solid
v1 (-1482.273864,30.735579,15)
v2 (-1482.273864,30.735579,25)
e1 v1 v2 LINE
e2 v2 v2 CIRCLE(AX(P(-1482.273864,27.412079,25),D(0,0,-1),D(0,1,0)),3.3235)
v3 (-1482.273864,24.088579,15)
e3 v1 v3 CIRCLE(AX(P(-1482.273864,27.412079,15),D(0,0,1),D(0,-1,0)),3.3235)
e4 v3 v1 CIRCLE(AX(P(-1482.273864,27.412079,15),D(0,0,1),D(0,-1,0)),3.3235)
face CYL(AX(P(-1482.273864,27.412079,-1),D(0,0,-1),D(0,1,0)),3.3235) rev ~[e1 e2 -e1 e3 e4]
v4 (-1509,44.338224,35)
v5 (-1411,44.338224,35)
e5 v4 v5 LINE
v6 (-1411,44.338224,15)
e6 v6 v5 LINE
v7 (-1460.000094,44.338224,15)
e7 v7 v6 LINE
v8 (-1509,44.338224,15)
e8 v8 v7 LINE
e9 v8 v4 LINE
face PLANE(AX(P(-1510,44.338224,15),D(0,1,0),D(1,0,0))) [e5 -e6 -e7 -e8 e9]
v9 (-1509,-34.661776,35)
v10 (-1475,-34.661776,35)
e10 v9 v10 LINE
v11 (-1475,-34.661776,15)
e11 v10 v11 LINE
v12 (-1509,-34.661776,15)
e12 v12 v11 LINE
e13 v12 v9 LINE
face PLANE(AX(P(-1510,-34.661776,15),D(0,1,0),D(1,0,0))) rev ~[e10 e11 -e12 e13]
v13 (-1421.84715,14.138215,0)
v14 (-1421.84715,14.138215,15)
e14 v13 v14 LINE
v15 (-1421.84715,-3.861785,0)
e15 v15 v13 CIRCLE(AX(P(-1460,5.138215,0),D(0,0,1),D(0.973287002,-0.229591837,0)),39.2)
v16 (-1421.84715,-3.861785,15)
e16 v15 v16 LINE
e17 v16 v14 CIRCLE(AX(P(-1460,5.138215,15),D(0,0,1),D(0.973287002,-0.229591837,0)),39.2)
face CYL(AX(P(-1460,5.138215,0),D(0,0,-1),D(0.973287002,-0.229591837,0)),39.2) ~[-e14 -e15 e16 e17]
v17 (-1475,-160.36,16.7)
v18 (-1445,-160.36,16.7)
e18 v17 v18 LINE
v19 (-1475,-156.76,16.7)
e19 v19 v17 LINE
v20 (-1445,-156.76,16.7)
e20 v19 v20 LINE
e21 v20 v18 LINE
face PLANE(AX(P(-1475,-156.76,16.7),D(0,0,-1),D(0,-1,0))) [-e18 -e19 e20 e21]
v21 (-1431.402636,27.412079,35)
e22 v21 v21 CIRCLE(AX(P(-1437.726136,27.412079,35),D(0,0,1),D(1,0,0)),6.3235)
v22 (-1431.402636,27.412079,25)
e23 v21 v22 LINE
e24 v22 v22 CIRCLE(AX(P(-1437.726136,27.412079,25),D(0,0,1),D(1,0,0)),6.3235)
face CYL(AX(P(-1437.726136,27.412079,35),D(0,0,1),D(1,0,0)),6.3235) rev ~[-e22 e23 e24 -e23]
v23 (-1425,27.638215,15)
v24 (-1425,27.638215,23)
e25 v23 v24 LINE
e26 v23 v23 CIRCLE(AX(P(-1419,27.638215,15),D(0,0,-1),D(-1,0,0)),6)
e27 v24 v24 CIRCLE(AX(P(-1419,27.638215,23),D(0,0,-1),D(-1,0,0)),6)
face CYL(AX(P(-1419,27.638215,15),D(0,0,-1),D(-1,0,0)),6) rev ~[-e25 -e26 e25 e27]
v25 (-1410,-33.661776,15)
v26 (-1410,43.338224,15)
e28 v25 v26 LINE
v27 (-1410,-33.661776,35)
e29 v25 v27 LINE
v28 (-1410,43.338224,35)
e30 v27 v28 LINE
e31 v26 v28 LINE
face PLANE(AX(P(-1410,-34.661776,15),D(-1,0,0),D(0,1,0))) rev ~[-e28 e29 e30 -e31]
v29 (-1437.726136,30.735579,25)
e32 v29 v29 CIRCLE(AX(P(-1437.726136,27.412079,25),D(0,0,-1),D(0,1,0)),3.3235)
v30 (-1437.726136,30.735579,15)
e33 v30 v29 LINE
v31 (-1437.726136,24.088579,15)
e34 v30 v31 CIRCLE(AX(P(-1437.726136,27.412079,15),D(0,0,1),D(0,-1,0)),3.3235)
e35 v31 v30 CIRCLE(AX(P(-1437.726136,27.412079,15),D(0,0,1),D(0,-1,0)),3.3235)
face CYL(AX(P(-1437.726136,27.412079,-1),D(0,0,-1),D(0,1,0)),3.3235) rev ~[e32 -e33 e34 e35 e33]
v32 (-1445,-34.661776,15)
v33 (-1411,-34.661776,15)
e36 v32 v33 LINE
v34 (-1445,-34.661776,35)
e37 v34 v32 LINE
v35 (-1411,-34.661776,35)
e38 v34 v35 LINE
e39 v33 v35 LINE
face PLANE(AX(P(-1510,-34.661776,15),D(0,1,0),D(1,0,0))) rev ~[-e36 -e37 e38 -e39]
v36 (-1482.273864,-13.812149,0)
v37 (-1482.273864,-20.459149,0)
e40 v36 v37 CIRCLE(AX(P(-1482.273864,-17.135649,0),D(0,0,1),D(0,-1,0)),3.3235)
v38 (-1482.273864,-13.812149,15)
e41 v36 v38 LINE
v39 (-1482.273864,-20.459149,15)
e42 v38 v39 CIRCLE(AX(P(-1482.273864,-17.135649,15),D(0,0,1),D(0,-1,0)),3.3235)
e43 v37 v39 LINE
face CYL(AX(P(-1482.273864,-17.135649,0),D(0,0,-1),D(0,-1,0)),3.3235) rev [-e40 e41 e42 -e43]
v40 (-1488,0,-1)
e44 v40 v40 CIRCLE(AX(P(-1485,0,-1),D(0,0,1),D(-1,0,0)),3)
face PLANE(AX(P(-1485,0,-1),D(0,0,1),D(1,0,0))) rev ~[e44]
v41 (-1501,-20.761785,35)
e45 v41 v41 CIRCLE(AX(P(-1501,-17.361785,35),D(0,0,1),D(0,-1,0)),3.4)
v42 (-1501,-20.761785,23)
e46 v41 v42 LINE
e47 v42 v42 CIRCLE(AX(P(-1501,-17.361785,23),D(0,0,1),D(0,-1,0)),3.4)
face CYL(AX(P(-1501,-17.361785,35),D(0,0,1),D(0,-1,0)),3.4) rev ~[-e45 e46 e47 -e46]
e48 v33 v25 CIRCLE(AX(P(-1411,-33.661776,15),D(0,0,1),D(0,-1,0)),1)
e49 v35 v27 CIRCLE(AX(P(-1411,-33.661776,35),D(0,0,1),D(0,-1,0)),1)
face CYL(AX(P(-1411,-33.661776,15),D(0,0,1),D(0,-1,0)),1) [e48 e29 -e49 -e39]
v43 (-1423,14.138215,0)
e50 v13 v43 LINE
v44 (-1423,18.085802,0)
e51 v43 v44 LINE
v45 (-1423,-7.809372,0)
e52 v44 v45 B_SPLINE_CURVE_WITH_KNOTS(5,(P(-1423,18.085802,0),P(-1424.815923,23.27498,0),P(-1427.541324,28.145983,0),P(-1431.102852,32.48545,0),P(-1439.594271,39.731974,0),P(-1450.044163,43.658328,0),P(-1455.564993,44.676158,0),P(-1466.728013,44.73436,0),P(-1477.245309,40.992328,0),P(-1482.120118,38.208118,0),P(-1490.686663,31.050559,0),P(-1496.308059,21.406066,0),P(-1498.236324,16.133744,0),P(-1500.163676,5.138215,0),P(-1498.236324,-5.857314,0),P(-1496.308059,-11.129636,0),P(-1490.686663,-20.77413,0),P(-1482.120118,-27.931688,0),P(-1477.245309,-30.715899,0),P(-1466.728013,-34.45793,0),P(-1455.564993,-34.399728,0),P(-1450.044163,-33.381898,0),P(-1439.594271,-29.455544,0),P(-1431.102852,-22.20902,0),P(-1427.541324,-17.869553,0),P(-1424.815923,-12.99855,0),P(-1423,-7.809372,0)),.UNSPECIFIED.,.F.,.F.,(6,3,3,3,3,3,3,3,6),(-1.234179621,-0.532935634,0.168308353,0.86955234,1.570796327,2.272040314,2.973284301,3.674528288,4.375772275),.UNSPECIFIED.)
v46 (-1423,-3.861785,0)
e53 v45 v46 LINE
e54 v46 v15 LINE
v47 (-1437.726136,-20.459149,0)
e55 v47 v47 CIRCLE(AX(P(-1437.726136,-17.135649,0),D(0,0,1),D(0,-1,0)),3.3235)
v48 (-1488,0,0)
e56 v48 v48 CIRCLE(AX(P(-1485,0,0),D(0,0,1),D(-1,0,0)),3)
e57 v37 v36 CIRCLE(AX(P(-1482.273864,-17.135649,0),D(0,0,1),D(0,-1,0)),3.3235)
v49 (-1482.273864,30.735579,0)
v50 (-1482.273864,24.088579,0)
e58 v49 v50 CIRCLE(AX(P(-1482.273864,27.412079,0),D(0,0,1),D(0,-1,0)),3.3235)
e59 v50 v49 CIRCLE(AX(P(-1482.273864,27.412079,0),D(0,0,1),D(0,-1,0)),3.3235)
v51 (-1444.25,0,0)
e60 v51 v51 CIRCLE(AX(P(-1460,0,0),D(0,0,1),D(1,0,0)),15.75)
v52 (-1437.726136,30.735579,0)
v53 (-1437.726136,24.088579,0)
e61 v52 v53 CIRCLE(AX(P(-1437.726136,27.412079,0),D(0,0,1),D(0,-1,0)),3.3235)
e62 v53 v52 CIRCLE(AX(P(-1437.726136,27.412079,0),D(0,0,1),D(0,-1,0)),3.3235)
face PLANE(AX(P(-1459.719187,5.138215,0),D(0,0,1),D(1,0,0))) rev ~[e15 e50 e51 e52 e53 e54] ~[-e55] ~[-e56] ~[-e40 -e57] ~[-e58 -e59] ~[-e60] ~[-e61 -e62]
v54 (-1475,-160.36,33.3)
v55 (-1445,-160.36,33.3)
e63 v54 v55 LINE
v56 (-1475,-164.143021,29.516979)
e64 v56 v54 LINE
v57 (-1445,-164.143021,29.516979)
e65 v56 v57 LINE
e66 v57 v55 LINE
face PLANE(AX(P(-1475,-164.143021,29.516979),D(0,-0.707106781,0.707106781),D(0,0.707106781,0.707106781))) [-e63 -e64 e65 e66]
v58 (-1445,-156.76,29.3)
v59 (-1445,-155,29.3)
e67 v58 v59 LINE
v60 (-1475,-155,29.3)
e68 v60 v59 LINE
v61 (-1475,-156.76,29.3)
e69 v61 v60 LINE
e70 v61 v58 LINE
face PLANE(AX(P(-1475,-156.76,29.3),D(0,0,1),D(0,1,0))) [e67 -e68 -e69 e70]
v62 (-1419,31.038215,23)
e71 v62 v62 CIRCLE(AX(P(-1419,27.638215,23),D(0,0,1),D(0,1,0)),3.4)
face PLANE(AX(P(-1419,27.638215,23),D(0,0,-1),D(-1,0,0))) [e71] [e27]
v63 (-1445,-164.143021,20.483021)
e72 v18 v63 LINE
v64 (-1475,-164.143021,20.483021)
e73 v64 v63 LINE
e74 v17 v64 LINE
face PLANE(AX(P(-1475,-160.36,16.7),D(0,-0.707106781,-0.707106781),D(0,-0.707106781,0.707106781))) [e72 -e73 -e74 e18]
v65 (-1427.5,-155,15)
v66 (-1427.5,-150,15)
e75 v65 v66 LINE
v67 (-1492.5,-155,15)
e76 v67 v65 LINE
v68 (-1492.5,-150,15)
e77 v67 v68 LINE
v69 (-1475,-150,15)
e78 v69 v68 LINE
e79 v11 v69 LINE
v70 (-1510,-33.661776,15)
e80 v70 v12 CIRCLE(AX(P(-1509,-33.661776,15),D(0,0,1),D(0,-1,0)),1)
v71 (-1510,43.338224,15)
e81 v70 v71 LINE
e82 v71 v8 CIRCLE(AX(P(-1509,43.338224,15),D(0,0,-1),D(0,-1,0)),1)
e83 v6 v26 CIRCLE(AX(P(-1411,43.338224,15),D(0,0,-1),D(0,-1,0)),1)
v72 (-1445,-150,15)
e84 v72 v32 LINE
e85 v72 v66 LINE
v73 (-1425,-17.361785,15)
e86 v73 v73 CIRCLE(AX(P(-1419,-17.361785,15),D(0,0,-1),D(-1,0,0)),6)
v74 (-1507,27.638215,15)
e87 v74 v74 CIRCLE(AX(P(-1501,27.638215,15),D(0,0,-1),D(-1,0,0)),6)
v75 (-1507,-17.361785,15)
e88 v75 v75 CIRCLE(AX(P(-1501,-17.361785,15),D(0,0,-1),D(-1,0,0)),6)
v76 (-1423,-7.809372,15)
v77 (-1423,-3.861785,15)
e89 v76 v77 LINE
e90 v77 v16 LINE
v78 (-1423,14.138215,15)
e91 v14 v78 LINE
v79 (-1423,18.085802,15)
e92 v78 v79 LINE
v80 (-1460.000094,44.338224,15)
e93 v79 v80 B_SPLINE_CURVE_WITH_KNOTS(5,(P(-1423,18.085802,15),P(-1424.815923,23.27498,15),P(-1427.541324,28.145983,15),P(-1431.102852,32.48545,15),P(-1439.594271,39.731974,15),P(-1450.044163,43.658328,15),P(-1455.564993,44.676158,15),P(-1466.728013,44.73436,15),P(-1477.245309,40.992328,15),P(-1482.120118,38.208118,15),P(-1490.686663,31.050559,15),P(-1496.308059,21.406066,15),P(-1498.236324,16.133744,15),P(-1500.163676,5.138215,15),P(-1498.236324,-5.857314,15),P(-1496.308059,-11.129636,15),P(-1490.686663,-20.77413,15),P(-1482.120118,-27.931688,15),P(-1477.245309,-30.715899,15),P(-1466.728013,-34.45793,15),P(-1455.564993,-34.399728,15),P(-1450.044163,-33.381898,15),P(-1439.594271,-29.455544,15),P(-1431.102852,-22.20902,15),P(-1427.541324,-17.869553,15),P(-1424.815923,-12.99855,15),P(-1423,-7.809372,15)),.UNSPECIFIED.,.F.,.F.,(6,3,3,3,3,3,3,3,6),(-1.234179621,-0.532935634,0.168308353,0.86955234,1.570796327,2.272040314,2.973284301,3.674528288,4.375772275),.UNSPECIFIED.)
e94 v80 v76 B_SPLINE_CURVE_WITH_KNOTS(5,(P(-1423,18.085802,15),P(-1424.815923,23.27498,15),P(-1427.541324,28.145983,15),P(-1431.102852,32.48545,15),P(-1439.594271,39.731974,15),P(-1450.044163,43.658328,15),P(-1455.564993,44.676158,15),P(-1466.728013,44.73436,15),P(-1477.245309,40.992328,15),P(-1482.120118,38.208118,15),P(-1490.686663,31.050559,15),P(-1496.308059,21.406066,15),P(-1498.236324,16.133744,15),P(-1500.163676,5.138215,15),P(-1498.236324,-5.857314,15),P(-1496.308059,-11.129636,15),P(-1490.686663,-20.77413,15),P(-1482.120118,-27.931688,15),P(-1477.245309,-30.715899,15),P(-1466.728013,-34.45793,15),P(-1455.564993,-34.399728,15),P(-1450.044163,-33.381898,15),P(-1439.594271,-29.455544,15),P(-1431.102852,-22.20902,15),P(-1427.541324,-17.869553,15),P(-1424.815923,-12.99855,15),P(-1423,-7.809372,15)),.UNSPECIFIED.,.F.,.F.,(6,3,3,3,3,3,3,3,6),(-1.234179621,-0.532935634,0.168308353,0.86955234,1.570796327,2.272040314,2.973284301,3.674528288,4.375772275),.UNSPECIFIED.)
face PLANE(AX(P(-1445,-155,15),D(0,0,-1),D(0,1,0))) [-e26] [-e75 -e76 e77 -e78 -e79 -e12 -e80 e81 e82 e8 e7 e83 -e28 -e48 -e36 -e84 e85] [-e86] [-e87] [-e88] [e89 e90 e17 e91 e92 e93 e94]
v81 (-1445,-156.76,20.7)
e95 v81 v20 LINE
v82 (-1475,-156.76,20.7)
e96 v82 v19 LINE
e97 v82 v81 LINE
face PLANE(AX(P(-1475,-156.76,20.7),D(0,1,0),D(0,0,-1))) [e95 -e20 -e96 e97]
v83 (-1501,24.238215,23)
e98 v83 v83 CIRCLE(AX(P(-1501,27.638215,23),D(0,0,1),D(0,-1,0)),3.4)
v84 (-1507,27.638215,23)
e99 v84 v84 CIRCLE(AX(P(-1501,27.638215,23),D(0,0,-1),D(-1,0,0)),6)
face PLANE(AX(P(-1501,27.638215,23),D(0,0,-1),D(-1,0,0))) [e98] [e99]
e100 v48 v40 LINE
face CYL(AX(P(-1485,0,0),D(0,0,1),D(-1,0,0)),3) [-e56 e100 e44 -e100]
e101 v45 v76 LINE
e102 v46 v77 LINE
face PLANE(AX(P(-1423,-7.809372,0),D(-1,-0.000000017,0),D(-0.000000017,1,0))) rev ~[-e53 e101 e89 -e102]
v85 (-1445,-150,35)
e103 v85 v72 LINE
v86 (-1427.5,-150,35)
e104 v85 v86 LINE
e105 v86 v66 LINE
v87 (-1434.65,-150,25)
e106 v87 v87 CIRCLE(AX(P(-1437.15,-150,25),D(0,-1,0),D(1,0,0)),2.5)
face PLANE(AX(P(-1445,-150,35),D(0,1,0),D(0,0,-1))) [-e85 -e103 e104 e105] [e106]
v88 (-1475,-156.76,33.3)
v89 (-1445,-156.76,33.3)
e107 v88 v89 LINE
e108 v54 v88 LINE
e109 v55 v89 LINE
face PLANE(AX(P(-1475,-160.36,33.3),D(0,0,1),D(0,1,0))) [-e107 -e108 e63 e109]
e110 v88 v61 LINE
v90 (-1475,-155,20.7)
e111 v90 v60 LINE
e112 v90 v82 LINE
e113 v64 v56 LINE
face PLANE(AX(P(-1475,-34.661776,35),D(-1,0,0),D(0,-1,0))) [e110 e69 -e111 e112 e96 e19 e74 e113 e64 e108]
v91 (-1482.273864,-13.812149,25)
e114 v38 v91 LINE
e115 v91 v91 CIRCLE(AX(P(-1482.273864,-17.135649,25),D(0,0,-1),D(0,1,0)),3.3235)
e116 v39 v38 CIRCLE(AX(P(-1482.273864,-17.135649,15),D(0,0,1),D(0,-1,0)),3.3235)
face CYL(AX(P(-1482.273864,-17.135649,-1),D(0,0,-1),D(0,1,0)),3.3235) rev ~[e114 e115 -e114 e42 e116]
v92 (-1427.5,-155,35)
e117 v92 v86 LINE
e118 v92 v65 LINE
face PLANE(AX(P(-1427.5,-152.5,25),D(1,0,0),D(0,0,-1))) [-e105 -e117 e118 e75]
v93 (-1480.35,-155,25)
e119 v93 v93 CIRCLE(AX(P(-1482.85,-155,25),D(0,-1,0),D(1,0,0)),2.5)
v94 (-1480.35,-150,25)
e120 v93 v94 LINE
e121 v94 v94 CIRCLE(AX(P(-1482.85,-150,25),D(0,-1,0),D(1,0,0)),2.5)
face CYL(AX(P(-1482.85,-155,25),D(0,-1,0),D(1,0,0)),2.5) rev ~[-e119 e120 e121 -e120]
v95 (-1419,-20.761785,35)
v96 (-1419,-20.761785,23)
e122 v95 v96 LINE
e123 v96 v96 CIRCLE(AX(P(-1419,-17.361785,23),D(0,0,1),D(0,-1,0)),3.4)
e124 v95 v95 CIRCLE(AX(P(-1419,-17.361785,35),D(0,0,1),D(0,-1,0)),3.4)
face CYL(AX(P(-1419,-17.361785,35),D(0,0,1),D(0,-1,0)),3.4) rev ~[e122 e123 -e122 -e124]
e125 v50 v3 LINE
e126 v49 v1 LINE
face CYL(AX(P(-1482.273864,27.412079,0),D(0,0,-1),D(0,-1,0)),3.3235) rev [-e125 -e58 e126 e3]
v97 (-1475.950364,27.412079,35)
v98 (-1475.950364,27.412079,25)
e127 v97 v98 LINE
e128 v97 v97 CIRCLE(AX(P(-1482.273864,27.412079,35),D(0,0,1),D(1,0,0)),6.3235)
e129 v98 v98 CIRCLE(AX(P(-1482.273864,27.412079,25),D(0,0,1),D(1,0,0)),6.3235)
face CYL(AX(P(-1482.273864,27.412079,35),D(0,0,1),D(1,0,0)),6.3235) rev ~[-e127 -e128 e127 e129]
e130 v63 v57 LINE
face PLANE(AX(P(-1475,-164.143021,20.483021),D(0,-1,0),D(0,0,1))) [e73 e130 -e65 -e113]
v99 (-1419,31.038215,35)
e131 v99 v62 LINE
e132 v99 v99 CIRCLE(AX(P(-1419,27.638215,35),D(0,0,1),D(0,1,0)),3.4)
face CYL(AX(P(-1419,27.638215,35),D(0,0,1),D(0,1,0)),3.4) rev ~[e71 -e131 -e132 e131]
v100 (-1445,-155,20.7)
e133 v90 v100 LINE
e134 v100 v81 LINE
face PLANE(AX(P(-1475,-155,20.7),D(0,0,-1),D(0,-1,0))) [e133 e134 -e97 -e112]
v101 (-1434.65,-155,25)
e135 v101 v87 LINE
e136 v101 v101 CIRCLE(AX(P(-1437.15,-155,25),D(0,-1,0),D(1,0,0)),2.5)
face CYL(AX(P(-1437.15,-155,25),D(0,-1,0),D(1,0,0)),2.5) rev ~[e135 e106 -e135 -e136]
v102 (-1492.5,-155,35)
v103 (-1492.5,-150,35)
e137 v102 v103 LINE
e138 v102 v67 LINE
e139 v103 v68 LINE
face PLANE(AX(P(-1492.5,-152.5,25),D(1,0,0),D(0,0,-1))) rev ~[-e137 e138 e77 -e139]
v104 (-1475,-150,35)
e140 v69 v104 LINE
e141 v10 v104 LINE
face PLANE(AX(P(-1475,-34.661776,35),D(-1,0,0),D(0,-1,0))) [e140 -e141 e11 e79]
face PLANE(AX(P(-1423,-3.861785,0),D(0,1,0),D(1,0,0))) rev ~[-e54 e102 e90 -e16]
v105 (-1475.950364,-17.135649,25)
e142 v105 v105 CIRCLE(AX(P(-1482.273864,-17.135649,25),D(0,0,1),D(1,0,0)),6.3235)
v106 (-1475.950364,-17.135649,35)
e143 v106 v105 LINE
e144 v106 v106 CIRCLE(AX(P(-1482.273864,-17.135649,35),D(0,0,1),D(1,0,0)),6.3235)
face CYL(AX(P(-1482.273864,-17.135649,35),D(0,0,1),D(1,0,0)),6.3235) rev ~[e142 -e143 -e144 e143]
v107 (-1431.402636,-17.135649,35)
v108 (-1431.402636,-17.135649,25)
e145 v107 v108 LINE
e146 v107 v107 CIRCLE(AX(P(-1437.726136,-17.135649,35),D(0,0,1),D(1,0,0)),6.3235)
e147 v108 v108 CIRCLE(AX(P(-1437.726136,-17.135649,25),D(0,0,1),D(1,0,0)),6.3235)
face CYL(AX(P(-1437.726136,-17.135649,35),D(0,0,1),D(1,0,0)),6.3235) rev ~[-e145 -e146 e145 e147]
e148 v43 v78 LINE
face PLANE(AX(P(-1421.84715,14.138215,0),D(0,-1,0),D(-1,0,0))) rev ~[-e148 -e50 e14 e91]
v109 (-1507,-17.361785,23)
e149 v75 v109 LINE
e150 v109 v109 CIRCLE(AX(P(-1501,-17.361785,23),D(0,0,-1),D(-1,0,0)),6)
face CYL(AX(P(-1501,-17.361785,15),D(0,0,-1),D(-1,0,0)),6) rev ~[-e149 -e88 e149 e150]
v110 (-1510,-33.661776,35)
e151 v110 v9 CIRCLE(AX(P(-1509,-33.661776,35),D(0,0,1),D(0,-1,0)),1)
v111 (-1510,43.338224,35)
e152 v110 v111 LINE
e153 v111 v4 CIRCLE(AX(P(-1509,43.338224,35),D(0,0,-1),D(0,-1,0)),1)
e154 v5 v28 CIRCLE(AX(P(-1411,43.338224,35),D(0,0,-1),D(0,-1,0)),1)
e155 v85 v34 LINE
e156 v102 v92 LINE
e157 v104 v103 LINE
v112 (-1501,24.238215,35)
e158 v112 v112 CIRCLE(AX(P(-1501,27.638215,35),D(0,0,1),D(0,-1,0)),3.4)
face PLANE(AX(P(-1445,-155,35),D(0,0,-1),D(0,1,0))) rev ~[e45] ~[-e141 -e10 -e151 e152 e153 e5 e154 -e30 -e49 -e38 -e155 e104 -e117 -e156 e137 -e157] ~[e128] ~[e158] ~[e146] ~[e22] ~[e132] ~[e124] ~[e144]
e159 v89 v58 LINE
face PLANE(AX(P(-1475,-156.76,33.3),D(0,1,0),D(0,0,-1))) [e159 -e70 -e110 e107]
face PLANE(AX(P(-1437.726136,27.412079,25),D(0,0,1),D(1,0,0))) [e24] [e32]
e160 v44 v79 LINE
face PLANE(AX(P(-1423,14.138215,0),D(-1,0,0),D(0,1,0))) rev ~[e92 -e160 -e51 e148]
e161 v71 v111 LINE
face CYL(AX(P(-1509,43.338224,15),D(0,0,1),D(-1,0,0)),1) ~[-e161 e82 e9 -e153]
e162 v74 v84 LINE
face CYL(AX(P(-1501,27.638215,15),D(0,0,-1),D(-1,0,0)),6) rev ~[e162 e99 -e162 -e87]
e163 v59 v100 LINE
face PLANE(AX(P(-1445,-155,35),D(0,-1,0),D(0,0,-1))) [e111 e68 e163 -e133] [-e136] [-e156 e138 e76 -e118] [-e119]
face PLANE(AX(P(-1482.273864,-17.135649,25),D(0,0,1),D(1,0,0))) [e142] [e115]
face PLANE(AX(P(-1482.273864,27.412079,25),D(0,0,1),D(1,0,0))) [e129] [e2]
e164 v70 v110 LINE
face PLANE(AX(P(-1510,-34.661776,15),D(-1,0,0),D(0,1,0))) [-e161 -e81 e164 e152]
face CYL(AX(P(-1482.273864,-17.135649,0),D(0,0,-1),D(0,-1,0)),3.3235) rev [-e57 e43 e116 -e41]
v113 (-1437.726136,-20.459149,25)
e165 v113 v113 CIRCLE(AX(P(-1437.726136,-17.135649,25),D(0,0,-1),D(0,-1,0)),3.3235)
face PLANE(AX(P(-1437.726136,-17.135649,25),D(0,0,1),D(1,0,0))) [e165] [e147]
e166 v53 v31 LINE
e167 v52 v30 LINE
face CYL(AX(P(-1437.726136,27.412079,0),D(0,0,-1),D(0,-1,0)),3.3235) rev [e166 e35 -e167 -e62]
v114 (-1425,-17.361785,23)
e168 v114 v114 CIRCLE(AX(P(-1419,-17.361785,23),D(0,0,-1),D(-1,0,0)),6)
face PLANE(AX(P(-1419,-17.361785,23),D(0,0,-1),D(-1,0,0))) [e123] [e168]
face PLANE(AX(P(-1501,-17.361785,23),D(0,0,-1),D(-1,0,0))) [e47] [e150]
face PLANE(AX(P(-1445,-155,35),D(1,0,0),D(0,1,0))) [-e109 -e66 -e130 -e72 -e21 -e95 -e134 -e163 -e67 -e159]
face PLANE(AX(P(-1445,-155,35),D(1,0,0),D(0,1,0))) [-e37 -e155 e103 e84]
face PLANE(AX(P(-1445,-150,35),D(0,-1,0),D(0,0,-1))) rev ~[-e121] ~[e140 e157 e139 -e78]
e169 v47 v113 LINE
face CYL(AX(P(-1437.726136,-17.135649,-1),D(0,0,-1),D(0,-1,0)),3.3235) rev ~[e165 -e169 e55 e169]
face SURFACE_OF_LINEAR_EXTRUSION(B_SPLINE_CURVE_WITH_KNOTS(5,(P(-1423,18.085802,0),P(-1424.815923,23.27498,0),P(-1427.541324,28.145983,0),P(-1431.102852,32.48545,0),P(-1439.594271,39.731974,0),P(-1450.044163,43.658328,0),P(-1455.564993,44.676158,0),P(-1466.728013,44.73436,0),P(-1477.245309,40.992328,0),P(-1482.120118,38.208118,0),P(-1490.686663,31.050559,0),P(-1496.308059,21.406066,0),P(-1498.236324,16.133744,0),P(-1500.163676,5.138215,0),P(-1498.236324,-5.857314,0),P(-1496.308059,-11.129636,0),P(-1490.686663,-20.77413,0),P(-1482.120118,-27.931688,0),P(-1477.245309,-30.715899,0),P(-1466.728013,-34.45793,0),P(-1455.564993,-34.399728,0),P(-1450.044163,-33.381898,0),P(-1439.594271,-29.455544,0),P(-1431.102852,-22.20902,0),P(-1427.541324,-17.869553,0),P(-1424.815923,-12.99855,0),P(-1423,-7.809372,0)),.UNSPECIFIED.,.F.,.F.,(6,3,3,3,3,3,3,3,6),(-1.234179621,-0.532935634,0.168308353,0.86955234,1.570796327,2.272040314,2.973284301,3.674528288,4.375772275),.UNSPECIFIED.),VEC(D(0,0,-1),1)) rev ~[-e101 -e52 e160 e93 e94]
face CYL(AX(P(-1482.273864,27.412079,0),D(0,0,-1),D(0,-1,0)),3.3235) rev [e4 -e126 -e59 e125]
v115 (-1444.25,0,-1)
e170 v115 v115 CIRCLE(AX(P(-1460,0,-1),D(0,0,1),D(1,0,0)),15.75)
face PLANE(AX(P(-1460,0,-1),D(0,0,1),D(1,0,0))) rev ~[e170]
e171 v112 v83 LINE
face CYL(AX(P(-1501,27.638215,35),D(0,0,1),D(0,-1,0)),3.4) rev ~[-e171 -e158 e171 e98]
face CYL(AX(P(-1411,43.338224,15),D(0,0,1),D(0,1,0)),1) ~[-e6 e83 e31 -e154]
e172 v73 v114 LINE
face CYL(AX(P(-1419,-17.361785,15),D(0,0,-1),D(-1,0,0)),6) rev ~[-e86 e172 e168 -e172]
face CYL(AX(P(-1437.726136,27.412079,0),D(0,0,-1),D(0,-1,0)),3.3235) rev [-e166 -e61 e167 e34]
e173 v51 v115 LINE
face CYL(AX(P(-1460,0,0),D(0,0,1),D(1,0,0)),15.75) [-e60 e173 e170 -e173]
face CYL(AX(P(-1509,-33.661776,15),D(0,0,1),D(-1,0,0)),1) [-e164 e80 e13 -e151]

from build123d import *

# Parameters (mm, degrees)
ESTRUSIONE_ESTRUSIONE2_DEPTH      = 1
ESTRUSIONE_ESTRUSIONE2_2_DEPTH    = 1
ESTRUSIONE_ESTRUSIONE3_DEPTH      = 15
SCHIZZO4_W                        = 100
SCHIZZO4_H                        = 79
ESTRUSIONE_ESTRUSIONE4_DEPTH      = 20
TAGLIO_ESTRUSIONE2_DEPTH          = 36
RACCORDO1_R                       = 1
ESTRUSIONE_ESTRUSIONE5_DEPTH      = 20
ESTRUSIONE_ESTRUSIONE6_DEPTH      = 30
SCHIZZO11_W                       = 20
SCHIZZO11_H                       = 5
ESTRUSIONE_ESTRUSIONE7_DEPTH      = 17.5
ESTRUSIONE_ESTRUSIONE7_DEPTH_BACK = 47.5
TAGLIO_ESTRUSIONE5_REACH          = 201.338
SCHIZZO13_R                       = 2.5
SCHIZZO14_R                       = 6.3235
SCHIZZO14_R_2                     = 3.3235
TAGLIO_ESTRUSIONE6_DEPTH          = 10
TAGLIO_ESTRUSIONE7_DEPTH          = 20
SCHIZZO7_R                        = 6
TAGLIO_ESTRUSIONE4_DEPTH          = 8


with BuildPart() as part:
    # Schizzo1 → Estrusione-Estrusione2 (new body)
    with BuildSketch(Plane.XY):
        with BuildLine():
            ThreePointArc((-1482, 0), (-1485, 3), (-1488, 0))
            ThreePointArc((-1488, 0), (-1485, -3), (-1482, 0))
        make_face()
    extrude(amount=-ESTRUSIONE_ESTRUSIONE2_DEPTH)



with BuildPart() as body_2:
    # Schizzo1 → Estrusione-Estrusione2 2 (new body)
    with BuildSketch(Plane.XY):
        with BuildLine():
            ThreePointArc((-1475.75, 0), (-1460, -15.75), (-1444.25, 0))
            ThreePointArc((-1444.25, 0), (-1460, 15.75), (-1475.75, 0))
        make_face()
    extrude(amount=-ESTRUSIONE_ESTRUSIONE2_2_DEPTH)


with BuildPart() as part_1:
    add(part.part)

    add(body_2.part)  # Estrusione-Estrusione3 merges body 2
    # Schizzo2 → Estrusione-Estrusione3 (add)
    with BuildSketch(Plane.XY):
        with BuildLine():
            Line((-1423, 14.138214937), (-1423, 18.085801585))
            add(Edge.make_bspline(
                [(-1423, 18.085801585), (-1424.815922694, 23.27497966), (-1427.541323769, 28.145982802), (-1431.102851615, 32.485450033), (-1439.594271418, 39.731973592), (-1450.044163239, 43.658327797), (-1455.564993498, 44.676158034), (-1466.7280127, 44.734359641), (-1477.245308948, 40.992328412), (-1482.120117986, 38.208118184), (-1490.68666297, 31.050559385), (-1496.308059, 21.406065909), (-1498.236323874, 16.133743979), (-1500.163676126, 5.138214937), (-1498.236323874, -5.857314104), (-1496.308059, -11.129636034), (-1490.68666297, -20.774129511), (-1482.120117986, -27.931688309), (-1477.245308948, -30.715898537), (-1466.7280127, -34.457929766), (-1455.564993498, -34.399728159), (-1450.044163239, -33.381897922), (-1439.594271418, -29.455543717), (-1431.102851615, -22.209020158), (-1427.541323769, -17.869552928), (-1424.815922694, -12.998549785), (-1422.999999932, -7.809371515)],
                knots=[-1.234179621, -1.234179621, -1.234179621, -1.234179621, -1.234179621, -1.234179621, -0.532935634, -0.532935634, -0.532935634, 0.168308353, 0.168308353, 0.168308353, 0.86955234, 0.86955234, 0.86955234, 1.570796327, 1.570796327, 1.570796327, 2.272040314, 2.272040314, 2.272040314, 2.973284301, 2.973284301, 2.973284301, 3.674528288, 3.674528288, 3.674528288, 4.375772275, 4.375772275, 4.375772275, 4.375772275, 4.375772275, 4.375772275], degree=5))
            Line((-1422.999999932, -7.809371515), (-1423, -3.861785063))
            Line((-1423, -3.861785063), (-1421.847149517, -3.861785063))
            ThreePointArc((-1421.847149517, -3.861785063), (-1420.8, 5.138214937), (-1421.847149517, 14.138214937))
            Line((-1421.847149517, 14.138214937), (-1423, 14.138214937))
        make_face()
        with BuildLine():
            ThreePointArc((-1437.726136393, 30.735578545), (-1441.049636393, 27.412078545), (-1437.726136393, 24.088578545))
            ThreePointArc((-1437.726136393, 24.088578545), (-1434.402636393, 27.412078545), (-1437.726136393, 30.735578545))
        make_face(mode=Mode.SUBTRACT)
        with BuildLine():
            ThreePointArc((-1437.726136393, -13.81214867), (-1441.049636393, -17.13564867), (-1437.726136393, -20.45914867))
            ThreePointArc((-1437.726136393, -20.45914867), (-1434.402636393, -17.13564867), (-1437.726136393, -13.81214867))
        make_face(mode=Mode.SUBTRACT)
        with BuildLine():
            ThreePointArc((-1482.273863607, -13.81214867), (-1485.597363607, -17.13564867), (-1482.273863607, -20.45914867))
            ThreePointArc((-1482.273863607, -20.45914867), (-1478.950363607, -17.13564867), (-1482.273863607, -13.81214867))
        make_face(mode=Mode.SUBTRACT)
        with BuildLine():
            ThreePointArc((-1482.273863607, 30.735578545), (-1485.597363607, 27.412078545), (-1482.273863607, 24.088578545))
            ThreePointArc((-1482.273863607, 24.088578545), (-1478.950363607, 27.412078545), (-1482.273863607, 30.735578545))
        make_face(mode=Mode.SUBTRACT)
    extrude(amount=ESTRUSIONE_ESTRUSIONE3_DEPTH)

    # Schizzo4 → Estrusione-Estrusione4 (add)
    with BuildSketch(Plane.XY.offset(15)):
        with Locations((-1460, 4.838223987)):
            Rectangle(SCHIZZO4_W, SCHIZZO4_H)
    extrude(amount=ESTRUSIONE_ESTRUSIONE4_DEPTH)

    # Schizzo5 → Taglio-Estrusione2 (cut)
    with BuildSketch(Plane(origin=(0, 0, -1), x_dir=(-1, 0, 0), z_dir=(0, 0, -1))):
        with BuildLine():
            ThreePointArc((1437.726136393, -13.81214867), (1434.402636393, -17.13564867), (1437.726136393, -20.45914867))
            ThreePointArc((1437.726136393, -20.45914867), (1441.049636393, -17.13564867), (1437.726136393, -13.81214867))
        make_face()
        with BuildLine():
            ThreePointArc((1437.726136393, 24.088578545), (1441.049636393, 27.412078545), (1437.726136393, 30.735578545))
            ThreePointArc((1437.726136393, 30.735578545), (1434.402636393, 27.412078545), (1437.726136393, 24.088578545))
        make_face()
        with BuildLine():
            ThreePointArc((1482.273863607, 24.088578545), (1485.597363607, 27.412078545), (1482.273863607, 30.735578545))
            ThreePointArc((1482.273863607, 30.735578545), (1478.950363607, 27.412078545), (1482.273863607, 24.088578545))
        make_face()
        with BuildLine():
            ThreePointArc((1482.273863607, -20.45914867), (1485.597363607, -17.13564867), (1482.273863607, -13.81214867))
            ThreePointArc((1482.273863607, -13.81214867), (1478.950363607, -17.13564867), (1482.273863607, -20.45914867))
        make_face()
    extrude(amount=-TAGLIO_ESTRUSIONE2_DEPTH, mode=Mode.SUBTRACT)

    # Raccordo1
    raccordo1_edges = [part_1.edges().sort_by_distance(p)[0] for p in [
        (-1510, -34.661776013, 25),
        (-1510, 44.338223987, 25),
        (-1410, -34.661776013, 25),
        (-1410, 44.338223987, 25),
    ]]
    fillet(raccordo1_edges, radius=RACCORDO1_R)

    # Schizzo8 → Estrusione-Estrusione5 (add)
    with BuildSketch(Plane.XY.offset(35)):
        Polygon((-1460, -34.661776013), (-1475, -34.661776013), (-1475, -155), (-1465.76, -155), (-1445, -155), (-1445, -34.661776013), align=None)
    extrude(amount=-ESTRUSIONE_ESTRUSIONE5_DEPTH)

    # Schizzo10 → Estrusione-Estrusione6 (add)
    with BuildSketch(Plane.ZY.offset(1475)):
        Polygon((20.7, -155), (20.7, -156.76), (16.7, -156.76), (16.7, -160.36), (20.483021279, -164.143021279), (29.516978721, -164.143021279), (33.3, -160.36), (33.3, -156.76), (29.3, -156.76), (29.3, -155), align=None)
    extrude(amount=-ESTRUSIONE_ESTRUSIONE6_DEPTH)

    # Schizzo11 → Estrusione-Estrusione7 (add, two sides)
    with BuildSketch(Plane(origin=(-1445, 0, 0), x_dir=(0, 0, -1), z_dir=(1, 0, 0))) as estrusione_estrusione7_sk:
        with Locations((-25, -152.5)):
            Rectangle(SCHIZZO11_W, SCHIZZO11_H)
    extrude(amount=ESTRUSIONE_ESTRUSIONE7_DEPTH)
    extrude(estrusione_estrusione7_sk.sketch, amount=-ESTRUSIONE_ESTRUSIONE7_DEPTH_BACK)

    # Schizzo13 → Taglio-Estrusione5 (cut, up to next)
    with BuildSketch(Plane.XZ.offset(155), mode=Mode.PRIVATE) as taglio_estrusione5_sk1:
        with Locations((-1437.15, 25)):
            Circle(SCHIZZO13_R)
    taglio_estrusione5_tool1 = extrude(taglio_estrusione5_sk1.sketch, amount=-TAGLIO_ESTRUSIONE5_REACH, mode=Mode.PRIVATE) & part_1.part
    add(taglio_estrusione5_tool1.solids().sort_by_distance((-1437.15, -155, 25))[0], mode=Mode.SUBTRACT)
    # Schizzo13 → Taglio-Estrusione5 (cut, up to next)
    with BuildSketch(Plane.XZ.offset(155), mode=Mode.PRIVATE) as taglio_estrusione5_sk2:
        with Locations((-1482.85, 25)):
            Circle(SCHIZZO13_R)
    taglio_estrusione5_tool2 = extrude(taglio_estrusione5_sk2.sketch, amount=-TAGLIO_ESTRUSIONE5_REACH, mode=Mode.PRIVATE) & part_1.part
    add(taglio_estrusione5_tool2.solids().sort_by_distance((-1482.85, -155, 25))[0], mode=Mode.SUBTRACT)

    # Schizzo14 → Taglio-Estrusione6 (cut)
    with BuildSketch(Plane.XY.offset(35)):
        with Locations((-1482.273863607, 27.412078545)):
            Circle(SCHIZZO14_R)
        with Locations((-1482.273863607, 27.412078545)):
            Circle(SCHIZZO14_R_2, mode=Mode.SUBTRACT)
        with Locations((-1482.273863607, -17.13564867)):
            Circle(SCHIZZO14_R)
        with Locations((-1482.273863607, -17.13564867)):
            Circle(SCHIZZO14_R_2, mode=Mode.SUBTRACT)
        with Locations((-1437.726136393, -17.13564867)):
            Circle(SCHIZZO14_R)
        with Locations((-1437.726136393, -17.13564867)):
            Circle(SCHIZZO14_R_2, mode=Mode.SUBTRACT)
        with Locations((-1437.726136393, 27.412078545)):
            Circle(SCHIZZO14_R)
        with Locations((-1437.726136393, 27.412078545)):
            Circle(SCHIZZO14_R_2, mode=Mode.SUBTRACT)
    extrude(amount=-TAGLIO_ESTRUSIONE6_DEPTH, mode=Mode.SUBTRACT)

    # Schizzo15 → Taglio-Estrusione7 (cut)
    with BuildSketch(Plane.XY.offset(35)):
        with BuildLine():
            ThreePointArc((-1419, 24.238214937), (-1415.6, 27.638214937), (-1419, 31.038214937))
            ThreePointArc((-1419, 31.038214937), (-1422.4, 27.638214937), (-1419, 24.238214937))
        make_face()
        with BuildLine():
            ThreePointArc((-1419, -13.961785063), (-1422.4, -17.361785063), (-1419, -20.761785063))
            ThreePointArc((-1419, -20.761785063), (-1415.6, -17.361785063), (-1419, -13.961785063))
        make_face()
        with BuildLine():
            ThreePointArc((-1501, -13.961785063), (-1504.4, -17.361785063), (-1501, -20.761785063))
            ThreePointArc((-1501, -20.761785063), (-1497.6, -17.361785063), (-1501, -13.961785063))
        make_face()
        with BuildLine():
            ThreePointArc((-1501, 31.038214937), (-1504.4, 27.638214937), (-1501, 24.238214937))
            ThreePointArc((-1501, 24.238214937), (-1497.6, 27.638214937), (-1501, 31.038214937))
        make_face()
    extrude(amount=-TAGLIO_ESTRUSIONE7_DEPTH, mode=Mode.SUBTRACT)

    # Schizzo7 → Taglio-Estrusione4 (cut)
    with BuildSketch(Plane(origin=(0, 0, 15), x_dir=(-1, 0, 0), z_dir=(0, 0, -1))):
        with Locations((1419, 27.638214937)):
            Circle(SCHIZZO7_R)
        with Locations((1501, -17.361785063)):
            Circle(SCHIZZO7_R)
        with Locations((1501, 27.638214937)):
            Circle(SCHIZZO7_R)
        with Locations((1419, -17.361785063)):
            Circle(SCHIZZO7_R)
    extrude(amount=-TAGLIO_ESTRUSIONE4_DEPTH, mode=Mode.SUBTRACT)


solid = part_1.part
